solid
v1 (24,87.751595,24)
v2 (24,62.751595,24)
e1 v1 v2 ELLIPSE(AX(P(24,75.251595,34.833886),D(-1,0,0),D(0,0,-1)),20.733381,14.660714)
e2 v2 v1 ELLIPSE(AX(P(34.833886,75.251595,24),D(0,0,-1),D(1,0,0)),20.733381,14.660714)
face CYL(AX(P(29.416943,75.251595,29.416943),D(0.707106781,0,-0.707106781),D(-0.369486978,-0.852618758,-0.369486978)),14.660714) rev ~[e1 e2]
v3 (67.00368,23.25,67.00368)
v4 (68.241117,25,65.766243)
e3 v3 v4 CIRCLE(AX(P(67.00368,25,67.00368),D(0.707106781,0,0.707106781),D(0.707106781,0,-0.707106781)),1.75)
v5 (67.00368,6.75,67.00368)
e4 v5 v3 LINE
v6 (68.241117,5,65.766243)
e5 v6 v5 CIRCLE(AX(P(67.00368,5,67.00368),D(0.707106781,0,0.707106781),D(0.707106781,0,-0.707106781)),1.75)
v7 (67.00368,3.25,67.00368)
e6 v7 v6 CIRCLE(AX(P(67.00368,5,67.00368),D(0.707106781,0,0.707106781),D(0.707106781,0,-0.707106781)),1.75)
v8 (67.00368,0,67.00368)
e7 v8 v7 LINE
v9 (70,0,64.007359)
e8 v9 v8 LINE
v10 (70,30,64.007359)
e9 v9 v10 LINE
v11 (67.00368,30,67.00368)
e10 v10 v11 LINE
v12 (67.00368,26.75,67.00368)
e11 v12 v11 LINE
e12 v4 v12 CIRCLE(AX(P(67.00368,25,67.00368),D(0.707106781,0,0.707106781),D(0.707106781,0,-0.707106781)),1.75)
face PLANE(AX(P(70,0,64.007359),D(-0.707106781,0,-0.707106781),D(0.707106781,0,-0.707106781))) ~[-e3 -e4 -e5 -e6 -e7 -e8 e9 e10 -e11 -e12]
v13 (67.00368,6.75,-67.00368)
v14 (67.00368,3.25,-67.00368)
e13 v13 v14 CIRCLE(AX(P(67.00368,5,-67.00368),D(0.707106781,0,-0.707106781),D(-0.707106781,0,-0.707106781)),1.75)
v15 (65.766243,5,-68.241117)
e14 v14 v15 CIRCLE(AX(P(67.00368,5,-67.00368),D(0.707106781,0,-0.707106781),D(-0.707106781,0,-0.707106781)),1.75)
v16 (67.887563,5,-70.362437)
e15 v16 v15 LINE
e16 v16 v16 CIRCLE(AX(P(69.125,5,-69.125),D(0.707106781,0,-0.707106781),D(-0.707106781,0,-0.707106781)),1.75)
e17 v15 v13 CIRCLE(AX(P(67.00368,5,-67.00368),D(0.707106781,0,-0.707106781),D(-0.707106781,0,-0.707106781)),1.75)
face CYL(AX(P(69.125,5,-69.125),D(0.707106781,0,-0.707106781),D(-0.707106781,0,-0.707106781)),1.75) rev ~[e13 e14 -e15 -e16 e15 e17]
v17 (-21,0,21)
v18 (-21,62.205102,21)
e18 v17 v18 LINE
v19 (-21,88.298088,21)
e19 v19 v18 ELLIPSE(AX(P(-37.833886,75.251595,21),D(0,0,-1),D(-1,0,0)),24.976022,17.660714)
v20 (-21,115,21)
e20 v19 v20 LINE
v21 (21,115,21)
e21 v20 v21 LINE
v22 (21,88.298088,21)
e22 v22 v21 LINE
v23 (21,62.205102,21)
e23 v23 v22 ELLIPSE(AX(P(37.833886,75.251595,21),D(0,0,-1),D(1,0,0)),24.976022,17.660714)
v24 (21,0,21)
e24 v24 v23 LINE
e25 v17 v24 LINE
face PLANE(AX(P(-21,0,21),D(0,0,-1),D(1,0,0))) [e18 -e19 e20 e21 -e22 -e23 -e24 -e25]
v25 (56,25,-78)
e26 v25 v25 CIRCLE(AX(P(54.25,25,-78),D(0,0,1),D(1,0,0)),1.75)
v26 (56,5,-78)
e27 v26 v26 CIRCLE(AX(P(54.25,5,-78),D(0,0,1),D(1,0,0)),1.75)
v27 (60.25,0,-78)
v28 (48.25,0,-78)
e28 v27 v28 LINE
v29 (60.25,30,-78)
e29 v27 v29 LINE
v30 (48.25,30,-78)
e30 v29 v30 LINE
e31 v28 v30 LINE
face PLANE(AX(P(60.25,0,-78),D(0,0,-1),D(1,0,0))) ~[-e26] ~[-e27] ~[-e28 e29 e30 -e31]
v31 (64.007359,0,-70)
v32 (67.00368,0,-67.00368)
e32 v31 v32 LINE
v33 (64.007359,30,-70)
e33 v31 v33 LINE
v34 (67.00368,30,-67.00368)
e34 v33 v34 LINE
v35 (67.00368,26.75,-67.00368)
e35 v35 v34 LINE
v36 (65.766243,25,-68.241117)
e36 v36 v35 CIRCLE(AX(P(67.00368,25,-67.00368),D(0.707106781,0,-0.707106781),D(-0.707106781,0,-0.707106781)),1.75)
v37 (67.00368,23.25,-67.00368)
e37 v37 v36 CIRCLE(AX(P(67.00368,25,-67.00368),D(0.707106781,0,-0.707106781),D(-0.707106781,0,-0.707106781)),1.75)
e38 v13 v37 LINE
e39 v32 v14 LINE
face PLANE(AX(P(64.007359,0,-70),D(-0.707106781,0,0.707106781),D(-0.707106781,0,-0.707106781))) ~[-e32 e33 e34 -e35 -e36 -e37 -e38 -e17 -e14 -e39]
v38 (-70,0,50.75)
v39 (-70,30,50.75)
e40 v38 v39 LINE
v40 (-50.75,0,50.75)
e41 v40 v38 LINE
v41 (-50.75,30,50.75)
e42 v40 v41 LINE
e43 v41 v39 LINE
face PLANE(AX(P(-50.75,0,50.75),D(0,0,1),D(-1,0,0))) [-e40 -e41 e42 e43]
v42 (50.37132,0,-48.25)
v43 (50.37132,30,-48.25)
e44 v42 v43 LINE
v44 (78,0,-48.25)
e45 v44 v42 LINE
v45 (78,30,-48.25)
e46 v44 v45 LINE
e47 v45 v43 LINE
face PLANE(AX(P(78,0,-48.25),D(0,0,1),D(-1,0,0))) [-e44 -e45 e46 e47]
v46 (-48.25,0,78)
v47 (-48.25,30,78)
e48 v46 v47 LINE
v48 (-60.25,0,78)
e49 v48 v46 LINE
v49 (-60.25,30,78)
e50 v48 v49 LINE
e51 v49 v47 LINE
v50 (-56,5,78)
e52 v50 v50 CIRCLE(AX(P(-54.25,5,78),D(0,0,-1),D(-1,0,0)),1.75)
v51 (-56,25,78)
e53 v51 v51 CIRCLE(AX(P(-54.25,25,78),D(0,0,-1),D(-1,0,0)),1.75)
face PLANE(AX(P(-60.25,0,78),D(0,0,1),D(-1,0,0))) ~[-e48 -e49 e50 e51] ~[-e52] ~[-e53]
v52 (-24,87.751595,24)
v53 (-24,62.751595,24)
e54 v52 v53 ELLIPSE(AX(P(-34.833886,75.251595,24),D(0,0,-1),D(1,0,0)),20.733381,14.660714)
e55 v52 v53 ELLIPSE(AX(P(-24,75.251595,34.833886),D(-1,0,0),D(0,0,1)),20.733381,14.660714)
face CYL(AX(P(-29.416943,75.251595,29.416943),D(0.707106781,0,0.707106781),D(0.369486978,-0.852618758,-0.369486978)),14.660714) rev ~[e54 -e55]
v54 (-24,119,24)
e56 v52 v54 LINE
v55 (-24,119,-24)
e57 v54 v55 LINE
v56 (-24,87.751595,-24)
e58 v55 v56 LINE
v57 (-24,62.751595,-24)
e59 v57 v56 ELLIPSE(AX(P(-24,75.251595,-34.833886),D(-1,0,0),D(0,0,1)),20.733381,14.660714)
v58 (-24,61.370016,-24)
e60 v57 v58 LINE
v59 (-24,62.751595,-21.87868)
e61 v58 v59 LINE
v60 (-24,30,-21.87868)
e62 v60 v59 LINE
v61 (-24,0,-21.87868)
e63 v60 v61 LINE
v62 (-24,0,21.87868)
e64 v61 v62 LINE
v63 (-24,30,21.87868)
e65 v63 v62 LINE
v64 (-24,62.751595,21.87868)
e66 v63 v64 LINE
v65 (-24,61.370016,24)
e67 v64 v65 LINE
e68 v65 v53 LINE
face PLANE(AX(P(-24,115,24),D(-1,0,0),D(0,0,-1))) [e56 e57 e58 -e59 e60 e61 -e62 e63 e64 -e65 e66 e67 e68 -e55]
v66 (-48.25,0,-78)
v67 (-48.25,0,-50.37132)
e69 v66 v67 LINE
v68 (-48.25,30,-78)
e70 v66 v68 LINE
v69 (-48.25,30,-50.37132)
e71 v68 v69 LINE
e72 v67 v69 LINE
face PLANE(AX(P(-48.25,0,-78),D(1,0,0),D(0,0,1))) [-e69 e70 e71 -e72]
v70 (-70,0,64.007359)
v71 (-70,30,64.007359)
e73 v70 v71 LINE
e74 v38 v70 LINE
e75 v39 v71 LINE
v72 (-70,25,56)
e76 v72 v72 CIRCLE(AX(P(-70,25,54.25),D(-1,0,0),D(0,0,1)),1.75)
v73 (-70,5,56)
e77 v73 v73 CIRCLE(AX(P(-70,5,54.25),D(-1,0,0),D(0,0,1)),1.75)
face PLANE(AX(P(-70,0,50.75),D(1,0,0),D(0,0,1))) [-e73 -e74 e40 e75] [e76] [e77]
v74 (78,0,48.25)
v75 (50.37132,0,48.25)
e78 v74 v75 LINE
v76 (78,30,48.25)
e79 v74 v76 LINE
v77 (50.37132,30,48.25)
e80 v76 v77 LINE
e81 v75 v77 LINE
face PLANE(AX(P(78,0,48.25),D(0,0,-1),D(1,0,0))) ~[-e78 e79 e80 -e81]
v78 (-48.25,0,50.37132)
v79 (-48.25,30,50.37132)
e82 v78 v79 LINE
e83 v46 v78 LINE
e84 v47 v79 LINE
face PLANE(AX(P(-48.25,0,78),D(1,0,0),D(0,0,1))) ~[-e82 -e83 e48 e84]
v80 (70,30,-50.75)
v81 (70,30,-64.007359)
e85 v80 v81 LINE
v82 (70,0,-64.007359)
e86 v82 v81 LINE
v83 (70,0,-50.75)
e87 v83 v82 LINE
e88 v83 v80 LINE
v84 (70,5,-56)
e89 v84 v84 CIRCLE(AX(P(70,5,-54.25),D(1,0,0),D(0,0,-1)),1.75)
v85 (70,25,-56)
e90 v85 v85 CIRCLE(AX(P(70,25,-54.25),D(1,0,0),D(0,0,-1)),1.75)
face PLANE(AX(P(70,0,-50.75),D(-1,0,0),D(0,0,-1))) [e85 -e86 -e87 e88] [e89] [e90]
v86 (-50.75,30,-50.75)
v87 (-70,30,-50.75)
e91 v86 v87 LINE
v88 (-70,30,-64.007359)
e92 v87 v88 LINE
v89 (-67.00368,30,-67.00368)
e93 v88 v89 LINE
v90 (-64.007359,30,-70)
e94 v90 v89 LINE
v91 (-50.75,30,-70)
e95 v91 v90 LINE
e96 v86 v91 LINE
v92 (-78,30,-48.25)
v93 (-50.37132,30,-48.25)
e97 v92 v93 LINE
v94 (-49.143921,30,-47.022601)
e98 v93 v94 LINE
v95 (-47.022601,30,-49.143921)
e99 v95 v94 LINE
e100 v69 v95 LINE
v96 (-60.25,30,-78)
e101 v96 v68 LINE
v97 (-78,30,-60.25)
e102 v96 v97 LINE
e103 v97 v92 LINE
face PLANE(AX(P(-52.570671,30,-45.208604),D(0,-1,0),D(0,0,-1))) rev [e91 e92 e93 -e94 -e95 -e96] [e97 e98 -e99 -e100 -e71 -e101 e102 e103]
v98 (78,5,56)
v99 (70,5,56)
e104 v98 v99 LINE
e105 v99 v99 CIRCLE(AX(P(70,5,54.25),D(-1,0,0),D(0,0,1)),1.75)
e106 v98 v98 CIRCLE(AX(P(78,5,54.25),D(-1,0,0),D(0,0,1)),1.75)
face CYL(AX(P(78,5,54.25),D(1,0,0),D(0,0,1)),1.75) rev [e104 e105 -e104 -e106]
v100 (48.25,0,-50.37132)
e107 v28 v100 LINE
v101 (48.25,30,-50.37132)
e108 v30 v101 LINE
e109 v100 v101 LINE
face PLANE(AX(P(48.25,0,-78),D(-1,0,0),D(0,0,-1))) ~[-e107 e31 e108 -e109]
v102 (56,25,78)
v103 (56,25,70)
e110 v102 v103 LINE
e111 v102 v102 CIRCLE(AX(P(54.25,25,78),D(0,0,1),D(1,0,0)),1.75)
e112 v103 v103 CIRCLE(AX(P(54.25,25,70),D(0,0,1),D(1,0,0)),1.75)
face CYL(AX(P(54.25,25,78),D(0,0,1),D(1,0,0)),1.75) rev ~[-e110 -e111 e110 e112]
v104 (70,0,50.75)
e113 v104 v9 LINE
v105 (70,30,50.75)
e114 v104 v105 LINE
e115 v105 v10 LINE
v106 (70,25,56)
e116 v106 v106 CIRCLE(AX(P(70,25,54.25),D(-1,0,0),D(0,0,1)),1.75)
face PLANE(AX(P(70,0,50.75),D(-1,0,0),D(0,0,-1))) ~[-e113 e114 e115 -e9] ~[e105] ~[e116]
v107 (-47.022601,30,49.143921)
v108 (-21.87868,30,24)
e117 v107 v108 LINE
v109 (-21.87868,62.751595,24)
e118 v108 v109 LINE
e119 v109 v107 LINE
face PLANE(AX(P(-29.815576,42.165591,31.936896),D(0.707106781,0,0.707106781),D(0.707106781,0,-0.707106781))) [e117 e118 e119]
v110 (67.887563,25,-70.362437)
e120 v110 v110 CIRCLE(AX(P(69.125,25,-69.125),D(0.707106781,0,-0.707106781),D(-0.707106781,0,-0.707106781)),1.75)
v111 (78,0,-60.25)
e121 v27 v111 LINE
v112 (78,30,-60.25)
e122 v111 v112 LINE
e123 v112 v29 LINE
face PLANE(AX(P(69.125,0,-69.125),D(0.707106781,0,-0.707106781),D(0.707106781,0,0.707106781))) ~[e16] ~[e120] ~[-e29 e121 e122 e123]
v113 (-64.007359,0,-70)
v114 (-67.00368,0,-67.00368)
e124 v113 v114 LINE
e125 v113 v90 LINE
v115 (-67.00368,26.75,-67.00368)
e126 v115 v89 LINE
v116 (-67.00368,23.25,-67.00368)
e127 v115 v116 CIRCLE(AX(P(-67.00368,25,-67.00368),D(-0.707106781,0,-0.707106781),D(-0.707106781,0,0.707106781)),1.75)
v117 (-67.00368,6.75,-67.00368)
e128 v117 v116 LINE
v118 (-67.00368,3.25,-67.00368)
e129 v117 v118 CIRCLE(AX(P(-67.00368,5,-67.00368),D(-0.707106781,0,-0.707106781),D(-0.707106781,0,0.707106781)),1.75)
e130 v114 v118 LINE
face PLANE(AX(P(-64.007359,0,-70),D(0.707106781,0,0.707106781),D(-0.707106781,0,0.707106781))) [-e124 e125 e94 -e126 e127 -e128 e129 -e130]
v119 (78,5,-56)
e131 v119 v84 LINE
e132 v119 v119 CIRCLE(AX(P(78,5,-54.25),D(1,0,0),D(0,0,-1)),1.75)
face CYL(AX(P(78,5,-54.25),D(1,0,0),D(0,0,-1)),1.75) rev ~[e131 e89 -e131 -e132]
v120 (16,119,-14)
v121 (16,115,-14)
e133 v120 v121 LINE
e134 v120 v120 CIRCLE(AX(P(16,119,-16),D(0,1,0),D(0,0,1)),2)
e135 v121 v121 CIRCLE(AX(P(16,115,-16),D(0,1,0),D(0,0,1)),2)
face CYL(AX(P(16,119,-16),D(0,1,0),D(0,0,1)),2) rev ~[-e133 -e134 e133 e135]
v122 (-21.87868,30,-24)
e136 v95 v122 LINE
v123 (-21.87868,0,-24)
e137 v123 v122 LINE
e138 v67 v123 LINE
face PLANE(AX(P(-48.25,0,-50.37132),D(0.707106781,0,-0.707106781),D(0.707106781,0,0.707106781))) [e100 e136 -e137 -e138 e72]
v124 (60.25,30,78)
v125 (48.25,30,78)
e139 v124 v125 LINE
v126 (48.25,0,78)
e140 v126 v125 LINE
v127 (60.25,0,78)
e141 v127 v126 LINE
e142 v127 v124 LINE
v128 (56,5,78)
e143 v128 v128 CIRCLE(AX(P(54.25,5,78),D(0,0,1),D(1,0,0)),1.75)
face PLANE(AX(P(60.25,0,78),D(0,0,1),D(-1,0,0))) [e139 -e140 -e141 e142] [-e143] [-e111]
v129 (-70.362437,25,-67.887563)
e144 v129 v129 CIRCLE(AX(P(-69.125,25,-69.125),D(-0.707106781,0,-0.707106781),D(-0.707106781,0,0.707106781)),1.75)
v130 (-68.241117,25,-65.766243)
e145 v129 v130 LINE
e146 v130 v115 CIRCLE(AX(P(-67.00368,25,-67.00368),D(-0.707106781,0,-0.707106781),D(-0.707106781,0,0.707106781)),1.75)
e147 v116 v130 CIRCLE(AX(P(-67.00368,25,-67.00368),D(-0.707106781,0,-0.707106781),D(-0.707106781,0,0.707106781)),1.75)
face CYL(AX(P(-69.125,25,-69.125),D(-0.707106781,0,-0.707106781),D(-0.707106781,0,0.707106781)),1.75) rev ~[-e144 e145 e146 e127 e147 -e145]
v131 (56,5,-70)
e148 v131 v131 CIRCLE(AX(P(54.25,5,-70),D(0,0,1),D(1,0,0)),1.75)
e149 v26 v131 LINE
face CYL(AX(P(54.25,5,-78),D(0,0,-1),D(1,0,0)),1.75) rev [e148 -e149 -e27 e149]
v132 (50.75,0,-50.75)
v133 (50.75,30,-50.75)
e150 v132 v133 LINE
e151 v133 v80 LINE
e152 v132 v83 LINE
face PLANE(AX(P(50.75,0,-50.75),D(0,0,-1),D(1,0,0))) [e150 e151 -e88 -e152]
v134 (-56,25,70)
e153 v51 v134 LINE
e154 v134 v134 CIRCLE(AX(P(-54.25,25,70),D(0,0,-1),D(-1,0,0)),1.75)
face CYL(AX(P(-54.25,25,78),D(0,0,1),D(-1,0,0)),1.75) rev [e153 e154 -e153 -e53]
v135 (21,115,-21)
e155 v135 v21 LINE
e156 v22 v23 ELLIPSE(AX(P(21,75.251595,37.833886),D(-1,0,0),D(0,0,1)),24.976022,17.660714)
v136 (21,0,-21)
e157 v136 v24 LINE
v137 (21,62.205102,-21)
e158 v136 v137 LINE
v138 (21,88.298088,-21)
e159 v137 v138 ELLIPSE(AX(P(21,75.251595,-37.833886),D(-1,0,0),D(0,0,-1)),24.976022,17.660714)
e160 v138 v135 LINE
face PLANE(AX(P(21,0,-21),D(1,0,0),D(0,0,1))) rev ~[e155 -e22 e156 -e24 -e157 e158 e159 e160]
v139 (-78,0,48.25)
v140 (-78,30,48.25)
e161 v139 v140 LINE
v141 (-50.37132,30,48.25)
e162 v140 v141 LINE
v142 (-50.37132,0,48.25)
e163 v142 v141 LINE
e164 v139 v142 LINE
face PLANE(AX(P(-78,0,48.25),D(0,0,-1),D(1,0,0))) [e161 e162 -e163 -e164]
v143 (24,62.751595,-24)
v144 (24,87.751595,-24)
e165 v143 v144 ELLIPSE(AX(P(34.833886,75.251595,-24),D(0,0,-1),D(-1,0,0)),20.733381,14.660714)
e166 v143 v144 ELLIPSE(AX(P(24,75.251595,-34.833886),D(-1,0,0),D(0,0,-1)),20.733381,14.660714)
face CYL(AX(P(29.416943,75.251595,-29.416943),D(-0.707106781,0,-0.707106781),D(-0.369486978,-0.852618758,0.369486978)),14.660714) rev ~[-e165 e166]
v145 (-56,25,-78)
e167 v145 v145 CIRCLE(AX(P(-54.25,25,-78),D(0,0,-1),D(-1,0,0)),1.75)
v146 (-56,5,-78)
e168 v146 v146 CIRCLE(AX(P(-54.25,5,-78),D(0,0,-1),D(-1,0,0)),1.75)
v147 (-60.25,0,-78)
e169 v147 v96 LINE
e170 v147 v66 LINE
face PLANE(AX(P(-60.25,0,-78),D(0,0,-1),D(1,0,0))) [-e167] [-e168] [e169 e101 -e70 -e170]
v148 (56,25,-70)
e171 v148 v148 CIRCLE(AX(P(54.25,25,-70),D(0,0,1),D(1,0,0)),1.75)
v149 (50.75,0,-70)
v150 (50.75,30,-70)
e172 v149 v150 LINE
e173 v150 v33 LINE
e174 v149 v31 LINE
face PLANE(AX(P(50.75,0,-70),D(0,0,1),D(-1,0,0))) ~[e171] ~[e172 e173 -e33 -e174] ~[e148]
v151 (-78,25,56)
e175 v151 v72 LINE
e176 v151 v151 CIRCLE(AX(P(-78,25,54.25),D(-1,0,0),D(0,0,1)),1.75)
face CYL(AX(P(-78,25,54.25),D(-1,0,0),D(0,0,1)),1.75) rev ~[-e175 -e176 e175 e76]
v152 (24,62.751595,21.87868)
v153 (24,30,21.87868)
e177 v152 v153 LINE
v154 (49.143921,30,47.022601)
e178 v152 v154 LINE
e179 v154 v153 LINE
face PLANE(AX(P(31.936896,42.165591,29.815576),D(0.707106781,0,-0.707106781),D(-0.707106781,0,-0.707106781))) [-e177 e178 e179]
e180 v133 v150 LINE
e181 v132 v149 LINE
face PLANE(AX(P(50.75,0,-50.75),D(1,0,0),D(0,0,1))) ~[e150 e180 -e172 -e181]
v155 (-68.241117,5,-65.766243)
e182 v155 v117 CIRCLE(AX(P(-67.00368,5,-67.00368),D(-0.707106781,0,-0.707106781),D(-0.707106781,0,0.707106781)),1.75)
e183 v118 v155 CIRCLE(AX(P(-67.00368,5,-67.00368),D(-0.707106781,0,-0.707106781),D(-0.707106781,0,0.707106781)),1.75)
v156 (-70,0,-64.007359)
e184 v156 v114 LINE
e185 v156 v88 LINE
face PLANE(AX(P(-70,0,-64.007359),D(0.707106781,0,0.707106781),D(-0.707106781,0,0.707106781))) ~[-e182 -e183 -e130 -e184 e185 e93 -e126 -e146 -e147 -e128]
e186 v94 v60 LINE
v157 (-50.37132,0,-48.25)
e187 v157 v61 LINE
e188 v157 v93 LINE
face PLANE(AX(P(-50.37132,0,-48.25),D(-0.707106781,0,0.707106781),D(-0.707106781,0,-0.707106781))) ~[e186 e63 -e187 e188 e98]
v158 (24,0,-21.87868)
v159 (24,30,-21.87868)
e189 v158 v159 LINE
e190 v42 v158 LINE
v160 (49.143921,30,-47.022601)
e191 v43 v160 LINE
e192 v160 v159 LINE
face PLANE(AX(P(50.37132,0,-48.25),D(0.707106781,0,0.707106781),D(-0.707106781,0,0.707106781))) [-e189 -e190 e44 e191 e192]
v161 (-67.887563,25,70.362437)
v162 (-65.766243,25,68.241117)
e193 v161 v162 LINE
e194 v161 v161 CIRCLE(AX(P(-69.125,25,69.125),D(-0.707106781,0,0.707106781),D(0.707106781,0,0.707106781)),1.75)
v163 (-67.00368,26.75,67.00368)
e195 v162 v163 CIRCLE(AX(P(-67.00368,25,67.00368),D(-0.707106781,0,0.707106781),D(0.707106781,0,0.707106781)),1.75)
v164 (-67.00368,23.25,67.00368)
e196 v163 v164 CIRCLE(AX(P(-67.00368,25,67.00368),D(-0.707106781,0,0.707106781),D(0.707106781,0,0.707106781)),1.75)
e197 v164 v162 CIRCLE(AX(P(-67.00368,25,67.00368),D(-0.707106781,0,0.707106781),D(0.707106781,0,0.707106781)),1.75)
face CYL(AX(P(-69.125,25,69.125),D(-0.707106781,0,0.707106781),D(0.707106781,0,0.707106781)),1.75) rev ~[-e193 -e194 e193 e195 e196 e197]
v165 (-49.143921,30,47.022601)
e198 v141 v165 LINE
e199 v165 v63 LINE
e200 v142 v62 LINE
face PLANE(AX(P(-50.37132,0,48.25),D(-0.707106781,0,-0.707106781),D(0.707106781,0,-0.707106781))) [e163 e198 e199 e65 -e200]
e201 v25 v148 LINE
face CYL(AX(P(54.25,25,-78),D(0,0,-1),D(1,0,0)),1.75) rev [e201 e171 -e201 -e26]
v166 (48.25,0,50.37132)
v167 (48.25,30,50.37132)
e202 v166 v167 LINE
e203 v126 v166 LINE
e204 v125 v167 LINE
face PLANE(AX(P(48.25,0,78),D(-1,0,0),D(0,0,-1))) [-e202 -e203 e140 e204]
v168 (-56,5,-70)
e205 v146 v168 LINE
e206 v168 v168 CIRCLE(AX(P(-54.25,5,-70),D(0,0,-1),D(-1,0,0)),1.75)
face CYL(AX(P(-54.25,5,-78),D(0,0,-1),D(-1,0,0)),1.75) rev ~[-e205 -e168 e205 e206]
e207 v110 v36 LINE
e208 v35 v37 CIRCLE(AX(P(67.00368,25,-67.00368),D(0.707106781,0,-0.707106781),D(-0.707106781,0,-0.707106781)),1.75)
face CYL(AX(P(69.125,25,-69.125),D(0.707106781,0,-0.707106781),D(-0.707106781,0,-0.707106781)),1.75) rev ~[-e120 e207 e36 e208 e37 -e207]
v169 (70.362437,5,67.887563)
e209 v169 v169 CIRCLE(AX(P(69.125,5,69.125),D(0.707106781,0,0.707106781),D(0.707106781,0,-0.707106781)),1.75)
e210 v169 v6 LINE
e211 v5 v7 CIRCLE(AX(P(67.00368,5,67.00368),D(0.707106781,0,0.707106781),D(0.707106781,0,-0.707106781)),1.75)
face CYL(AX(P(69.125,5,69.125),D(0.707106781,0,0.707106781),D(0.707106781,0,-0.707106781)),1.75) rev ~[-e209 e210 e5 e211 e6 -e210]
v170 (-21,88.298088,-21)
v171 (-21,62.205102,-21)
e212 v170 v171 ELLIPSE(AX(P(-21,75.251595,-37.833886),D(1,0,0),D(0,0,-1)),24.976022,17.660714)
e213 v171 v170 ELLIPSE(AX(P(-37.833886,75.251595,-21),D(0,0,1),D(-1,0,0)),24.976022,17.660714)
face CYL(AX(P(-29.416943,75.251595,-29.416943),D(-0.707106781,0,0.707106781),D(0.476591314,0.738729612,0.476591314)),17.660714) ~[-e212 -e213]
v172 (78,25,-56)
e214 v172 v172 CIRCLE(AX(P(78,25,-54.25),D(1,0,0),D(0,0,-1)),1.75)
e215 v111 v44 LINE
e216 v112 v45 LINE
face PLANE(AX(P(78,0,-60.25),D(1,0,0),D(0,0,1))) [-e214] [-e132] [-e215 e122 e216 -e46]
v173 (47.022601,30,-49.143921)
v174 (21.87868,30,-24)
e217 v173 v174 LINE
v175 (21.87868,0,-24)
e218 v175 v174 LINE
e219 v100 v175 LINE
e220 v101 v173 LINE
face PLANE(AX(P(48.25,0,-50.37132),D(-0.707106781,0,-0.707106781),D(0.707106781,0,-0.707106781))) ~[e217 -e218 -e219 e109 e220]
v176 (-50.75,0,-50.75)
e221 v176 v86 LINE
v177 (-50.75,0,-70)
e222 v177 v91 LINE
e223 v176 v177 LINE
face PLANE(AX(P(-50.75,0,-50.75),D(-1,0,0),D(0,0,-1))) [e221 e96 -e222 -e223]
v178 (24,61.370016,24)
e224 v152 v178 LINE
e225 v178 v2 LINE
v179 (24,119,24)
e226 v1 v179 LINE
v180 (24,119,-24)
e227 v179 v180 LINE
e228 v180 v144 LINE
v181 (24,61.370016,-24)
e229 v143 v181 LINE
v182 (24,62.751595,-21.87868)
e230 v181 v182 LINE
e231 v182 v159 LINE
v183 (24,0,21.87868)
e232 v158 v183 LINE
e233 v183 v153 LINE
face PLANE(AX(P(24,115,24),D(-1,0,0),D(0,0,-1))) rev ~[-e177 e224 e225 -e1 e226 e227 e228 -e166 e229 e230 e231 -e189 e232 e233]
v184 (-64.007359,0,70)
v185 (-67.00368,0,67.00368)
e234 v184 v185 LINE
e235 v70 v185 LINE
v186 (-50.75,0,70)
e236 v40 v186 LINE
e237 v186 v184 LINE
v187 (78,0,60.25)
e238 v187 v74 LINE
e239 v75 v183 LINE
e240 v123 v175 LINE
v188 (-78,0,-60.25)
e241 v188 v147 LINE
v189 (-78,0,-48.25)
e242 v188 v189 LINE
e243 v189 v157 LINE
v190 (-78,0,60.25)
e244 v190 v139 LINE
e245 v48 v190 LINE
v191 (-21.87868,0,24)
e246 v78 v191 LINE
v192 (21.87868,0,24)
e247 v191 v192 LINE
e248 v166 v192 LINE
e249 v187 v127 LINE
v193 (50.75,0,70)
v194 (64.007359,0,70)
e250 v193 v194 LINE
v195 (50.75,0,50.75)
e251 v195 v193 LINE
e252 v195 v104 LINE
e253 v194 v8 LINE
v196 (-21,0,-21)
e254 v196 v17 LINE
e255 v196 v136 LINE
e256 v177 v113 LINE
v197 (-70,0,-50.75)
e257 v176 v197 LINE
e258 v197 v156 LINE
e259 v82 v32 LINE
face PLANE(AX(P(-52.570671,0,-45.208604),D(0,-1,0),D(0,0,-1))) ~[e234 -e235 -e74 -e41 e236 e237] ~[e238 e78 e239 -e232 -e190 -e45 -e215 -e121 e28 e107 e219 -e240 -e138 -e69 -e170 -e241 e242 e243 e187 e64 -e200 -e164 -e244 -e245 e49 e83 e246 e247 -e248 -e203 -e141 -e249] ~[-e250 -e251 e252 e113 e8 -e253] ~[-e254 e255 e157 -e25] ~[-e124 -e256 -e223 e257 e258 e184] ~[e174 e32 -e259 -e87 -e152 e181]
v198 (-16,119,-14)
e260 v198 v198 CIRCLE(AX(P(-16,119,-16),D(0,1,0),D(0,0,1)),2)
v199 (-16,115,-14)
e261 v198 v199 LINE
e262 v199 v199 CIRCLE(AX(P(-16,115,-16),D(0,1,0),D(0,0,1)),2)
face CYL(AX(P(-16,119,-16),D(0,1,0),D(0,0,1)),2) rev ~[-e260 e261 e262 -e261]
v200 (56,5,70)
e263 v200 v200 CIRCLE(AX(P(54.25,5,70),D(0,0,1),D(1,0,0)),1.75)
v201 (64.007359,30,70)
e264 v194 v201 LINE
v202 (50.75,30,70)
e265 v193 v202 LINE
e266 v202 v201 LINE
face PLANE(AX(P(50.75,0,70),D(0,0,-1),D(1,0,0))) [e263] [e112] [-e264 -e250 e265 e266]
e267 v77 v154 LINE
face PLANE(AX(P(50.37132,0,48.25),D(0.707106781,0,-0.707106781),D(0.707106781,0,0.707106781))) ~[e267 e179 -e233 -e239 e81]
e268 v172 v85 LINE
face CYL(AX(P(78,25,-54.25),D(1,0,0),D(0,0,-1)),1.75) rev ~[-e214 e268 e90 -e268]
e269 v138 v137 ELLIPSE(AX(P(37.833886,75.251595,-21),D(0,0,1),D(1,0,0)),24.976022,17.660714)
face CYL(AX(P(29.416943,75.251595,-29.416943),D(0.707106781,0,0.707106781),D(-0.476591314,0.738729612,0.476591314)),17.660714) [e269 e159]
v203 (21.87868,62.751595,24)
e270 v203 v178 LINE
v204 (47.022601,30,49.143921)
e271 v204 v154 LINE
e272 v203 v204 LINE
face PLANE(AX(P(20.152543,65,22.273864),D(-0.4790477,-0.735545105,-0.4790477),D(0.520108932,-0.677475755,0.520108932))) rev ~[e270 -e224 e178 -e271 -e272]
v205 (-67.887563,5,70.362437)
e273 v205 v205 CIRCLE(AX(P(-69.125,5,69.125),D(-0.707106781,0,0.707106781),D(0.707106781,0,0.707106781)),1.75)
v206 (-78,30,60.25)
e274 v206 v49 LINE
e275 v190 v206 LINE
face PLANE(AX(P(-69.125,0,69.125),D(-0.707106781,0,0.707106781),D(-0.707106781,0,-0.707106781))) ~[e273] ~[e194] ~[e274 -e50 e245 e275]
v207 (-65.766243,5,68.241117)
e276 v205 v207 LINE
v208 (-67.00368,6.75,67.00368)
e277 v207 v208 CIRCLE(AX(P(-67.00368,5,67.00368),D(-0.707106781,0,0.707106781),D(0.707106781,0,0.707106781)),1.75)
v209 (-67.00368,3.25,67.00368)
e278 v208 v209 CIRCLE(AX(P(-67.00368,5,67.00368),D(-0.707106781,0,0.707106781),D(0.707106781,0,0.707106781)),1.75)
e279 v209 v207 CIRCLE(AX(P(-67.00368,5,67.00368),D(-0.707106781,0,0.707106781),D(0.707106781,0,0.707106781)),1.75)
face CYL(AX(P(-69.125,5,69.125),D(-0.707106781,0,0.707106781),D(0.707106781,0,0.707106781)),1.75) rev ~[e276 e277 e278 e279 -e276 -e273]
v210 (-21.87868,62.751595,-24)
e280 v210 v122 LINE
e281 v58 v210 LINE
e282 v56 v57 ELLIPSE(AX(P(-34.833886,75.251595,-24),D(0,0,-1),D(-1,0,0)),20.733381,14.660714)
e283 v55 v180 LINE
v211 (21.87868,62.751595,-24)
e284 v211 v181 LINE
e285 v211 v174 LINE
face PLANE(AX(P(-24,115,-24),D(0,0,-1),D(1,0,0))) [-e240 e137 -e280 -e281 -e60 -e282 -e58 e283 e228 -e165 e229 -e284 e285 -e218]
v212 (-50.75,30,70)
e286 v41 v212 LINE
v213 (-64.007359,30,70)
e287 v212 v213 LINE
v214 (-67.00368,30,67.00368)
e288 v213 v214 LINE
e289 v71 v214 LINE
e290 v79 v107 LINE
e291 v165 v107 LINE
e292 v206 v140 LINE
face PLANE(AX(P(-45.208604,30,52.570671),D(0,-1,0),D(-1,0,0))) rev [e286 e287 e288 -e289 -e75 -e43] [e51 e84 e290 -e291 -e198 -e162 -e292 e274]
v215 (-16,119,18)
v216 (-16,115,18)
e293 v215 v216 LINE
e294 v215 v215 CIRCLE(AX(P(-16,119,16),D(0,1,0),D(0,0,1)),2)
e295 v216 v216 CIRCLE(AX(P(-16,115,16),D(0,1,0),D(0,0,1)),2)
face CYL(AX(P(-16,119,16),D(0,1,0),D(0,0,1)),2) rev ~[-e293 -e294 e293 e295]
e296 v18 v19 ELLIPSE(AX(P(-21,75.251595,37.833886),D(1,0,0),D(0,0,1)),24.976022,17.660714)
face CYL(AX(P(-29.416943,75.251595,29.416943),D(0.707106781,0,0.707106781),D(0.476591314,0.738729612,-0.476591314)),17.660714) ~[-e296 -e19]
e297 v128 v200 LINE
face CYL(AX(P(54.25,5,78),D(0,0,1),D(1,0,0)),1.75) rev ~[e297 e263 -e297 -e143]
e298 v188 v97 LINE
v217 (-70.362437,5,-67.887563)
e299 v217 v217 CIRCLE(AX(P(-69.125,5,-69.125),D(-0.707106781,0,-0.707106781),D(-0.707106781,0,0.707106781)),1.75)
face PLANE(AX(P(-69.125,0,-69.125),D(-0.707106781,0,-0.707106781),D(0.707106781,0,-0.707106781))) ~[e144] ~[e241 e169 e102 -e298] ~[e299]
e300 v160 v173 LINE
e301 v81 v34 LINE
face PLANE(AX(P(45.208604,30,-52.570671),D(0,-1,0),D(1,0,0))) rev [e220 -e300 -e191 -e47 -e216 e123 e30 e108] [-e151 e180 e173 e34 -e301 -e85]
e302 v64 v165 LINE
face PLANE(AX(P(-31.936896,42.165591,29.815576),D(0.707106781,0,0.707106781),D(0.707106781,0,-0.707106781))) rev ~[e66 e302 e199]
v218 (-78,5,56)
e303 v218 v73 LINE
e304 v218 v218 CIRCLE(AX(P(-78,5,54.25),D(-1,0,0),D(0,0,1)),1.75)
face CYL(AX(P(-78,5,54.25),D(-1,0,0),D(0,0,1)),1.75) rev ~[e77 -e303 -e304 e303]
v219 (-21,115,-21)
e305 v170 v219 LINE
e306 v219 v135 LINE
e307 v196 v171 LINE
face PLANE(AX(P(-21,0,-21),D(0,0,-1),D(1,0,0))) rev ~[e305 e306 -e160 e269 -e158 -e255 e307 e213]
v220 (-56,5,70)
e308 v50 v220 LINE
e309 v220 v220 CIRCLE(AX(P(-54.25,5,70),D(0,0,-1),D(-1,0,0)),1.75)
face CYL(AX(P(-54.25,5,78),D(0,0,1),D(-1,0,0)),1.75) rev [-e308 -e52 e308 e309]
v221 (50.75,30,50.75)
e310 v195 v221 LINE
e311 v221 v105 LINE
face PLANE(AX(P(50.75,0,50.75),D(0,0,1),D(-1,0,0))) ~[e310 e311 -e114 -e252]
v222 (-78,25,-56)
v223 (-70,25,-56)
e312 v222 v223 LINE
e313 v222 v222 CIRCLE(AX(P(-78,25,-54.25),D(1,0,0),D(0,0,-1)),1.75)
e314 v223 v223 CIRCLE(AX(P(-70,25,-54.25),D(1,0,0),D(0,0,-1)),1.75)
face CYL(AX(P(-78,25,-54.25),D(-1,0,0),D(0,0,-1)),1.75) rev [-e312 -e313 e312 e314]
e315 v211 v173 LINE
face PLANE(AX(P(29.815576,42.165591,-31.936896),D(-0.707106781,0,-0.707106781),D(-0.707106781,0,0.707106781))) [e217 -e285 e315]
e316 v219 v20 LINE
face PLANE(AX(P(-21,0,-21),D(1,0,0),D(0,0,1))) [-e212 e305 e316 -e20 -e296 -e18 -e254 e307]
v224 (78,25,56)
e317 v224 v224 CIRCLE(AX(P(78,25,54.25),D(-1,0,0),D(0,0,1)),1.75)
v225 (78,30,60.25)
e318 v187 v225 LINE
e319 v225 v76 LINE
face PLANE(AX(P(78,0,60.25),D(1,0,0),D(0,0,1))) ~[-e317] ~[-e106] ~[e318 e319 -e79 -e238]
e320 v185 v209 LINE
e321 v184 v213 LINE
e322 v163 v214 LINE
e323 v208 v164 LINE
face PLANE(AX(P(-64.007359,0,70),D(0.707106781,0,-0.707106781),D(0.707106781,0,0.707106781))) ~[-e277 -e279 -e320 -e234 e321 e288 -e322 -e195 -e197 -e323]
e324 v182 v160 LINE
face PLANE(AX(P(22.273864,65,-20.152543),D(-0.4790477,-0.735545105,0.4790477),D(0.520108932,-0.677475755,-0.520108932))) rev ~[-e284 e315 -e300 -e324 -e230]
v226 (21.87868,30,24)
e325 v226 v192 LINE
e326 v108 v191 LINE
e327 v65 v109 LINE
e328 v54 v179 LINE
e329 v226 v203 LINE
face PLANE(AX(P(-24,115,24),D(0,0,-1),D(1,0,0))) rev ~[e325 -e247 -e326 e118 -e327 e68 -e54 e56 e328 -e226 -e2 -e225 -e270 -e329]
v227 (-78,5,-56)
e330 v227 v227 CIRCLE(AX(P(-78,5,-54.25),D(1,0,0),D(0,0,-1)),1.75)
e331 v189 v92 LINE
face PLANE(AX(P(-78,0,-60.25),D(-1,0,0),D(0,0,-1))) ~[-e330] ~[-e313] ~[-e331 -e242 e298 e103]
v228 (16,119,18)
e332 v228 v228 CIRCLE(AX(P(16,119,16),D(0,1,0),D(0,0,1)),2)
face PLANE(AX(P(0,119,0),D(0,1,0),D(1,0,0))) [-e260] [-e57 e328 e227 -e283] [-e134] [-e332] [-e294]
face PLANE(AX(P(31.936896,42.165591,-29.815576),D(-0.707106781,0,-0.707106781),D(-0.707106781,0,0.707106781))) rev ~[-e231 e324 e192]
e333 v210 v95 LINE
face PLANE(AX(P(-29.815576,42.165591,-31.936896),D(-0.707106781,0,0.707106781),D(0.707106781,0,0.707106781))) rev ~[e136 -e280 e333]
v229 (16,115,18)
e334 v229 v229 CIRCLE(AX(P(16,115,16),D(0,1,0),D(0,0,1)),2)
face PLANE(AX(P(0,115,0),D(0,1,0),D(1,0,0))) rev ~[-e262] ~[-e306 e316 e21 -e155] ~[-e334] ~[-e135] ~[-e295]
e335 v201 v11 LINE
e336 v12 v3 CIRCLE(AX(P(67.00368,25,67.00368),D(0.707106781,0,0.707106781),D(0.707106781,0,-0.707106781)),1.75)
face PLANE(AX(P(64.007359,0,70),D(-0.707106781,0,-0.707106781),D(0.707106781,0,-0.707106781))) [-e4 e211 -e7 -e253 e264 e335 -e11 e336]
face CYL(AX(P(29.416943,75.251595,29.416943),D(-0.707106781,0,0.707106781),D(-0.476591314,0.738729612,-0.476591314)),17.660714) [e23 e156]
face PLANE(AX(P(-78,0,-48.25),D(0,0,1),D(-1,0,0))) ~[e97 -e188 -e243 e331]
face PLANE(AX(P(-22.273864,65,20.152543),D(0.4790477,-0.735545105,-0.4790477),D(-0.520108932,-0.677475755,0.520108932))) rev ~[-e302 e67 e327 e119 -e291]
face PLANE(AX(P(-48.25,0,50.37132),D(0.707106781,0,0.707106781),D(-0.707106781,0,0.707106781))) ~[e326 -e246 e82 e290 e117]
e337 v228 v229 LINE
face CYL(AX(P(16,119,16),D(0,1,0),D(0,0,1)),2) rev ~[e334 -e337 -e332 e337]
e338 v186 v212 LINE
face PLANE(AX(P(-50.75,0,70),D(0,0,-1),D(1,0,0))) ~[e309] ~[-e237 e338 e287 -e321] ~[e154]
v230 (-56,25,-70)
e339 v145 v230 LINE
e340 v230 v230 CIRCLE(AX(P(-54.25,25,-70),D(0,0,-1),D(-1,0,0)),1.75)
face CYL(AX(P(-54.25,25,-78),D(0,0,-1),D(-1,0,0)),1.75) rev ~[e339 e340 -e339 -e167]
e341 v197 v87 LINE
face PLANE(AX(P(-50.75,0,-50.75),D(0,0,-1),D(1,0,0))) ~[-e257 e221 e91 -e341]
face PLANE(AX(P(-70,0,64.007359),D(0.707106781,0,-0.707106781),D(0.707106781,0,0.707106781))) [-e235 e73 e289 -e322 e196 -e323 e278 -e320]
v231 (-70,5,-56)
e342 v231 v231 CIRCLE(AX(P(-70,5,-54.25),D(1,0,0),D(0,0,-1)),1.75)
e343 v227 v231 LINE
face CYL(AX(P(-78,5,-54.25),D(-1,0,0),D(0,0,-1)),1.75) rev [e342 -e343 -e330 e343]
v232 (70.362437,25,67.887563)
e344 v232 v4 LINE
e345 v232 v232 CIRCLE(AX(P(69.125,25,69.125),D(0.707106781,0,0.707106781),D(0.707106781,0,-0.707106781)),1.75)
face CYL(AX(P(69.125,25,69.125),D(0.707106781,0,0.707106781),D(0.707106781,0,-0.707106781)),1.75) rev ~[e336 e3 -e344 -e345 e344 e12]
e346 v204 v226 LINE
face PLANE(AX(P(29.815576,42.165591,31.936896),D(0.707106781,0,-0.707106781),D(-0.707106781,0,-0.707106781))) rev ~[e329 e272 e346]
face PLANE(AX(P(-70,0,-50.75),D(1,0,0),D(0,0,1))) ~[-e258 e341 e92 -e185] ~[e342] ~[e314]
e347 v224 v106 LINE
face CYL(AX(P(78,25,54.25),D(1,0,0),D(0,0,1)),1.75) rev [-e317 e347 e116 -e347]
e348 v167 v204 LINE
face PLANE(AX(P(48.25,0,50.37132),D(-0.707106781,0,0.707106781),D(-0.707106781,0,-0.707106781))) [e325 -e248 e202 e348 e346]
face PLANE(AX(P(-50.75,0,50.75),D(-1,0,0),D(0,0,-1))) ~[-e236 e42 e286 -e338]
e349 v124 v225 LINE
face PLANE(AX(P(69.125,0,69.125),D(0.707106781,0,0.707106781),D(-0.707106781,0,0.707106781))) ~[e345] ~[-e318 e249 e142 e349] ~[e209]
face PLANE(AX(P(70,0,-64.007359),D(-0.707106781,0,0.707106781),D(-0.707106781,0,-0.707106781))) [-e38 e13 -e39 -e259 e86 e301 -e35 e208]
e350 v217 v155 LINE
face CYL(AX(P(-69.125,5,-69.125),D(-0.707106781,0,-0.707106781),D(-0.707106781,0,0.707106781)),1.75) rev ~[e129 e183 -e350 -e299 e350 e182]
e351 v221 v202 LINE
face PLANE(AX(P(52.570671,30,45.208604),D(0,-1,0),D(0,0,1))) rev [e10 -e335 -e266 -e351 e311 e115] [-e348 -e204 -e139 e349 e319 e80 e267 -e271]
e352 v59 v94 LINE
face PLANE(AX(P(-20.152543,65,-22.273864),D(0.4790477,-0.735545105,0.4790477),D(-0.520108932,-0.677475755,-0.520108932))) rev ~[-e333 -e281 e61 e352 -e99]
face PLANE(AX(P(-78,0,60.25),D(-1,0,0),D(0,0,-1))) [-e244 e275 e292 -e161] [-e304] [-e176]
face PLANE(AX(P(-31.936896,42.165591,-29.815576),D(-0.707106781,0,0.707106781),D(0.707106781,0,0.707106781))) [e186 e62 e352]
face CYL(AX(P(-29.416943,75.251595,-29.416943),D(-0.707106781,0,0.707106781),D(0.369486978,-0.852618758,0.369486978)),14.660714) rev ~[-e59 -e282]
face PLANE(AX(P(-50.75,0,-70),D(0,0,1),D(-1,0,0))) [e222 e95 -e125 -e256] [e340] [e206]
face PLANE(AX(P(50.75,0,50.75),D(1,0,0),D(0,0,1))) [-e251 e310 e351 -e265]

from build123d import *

# Parameters (mm, degrees)
BOSS_EXTRUDE1_DEPTH             = 30
SKETCH2_R                       = 1.75
CUT_EXTRUDE1_DEPTH              = 8
SKETCH5_R                       = 1.75
CUT_EXTRUDE2_DEPTH              = 3
BOSS_EXTRUDE2_DEPTH             = 3
CIRPATTERN5_COUNT               = 4
SKETCH4_W                       = 48
SKETCH4_H                       = 48
SKETCH4_W_2                     = 42
SKETCH4_H_2                     = 42
BOSS_EXTRUDE3_DEPTH             = 115
SKETCH6_W                       = 48
SKETCH6_H                       = 48
BOSS_EXTRUDE4_DEPTH             = 4
SKETCH7_R                       = 2
CUT_EXTRUDE3_DEPTH              = 4
CUT_EXTRUDE4_DEPTH              = 163.262133599
BOSS_EXTRUDE5_REACH             = 164.262
BOSS_EXTRUDE5_DIRECTION_2_REACH = 164.262
CIRPATTERN6_COUNT               = 4


with BuildPart() as part:
    # Sketch1 → Boss-Extrude1 (new body)
    with BuildSketch(Plane(origin=(0, 0, 0), x_dir=(1, 0, 0), z_dir=(0, 1, 0))):
        Polygon((48.25, -78), (48.25, -50.371320344), (20.152543264, -22.273863607), (21.213203436, -21.213203436), (50.75, -50.75), (50.75, -70), (64.007359313, -70), (67.003679656, -67.003679656), (69.125, -69.125), (60.25, -78), align=None)
    boss_extrude1 = extrude(amount=BOSS_EXTRUDE1_DEPTH)

    # Sketch2 → Cut-Extrude1 (cut)
    with BuildSketch(Plane.XY.offset(78)):
        with Locations((54.25, 5)):
            Circle(SKETCH2_R)
        with Locations((54.25, 25)):
            Circle(SKETCH2_R)
    cut_extrude1 = extrude(amount=-CUT_EXTRUDE1_DEPTH, mode=Mode.SUBTRACT)

    # Mirror1: Boss-Extrude1, Cut-Extrude1 across plane
    add(boss_extrude1.mirror(Plane(origin=(50.75, 30, 50.75), x_dir=(0.707106781186549, 0, 0.707106781186546), z_dir=(-0.707106781186546, 0, 0.707106781186549))))
    add(cut_extrude1.mirror(Plane(origin=(50.75, 30, 50.75), x_dir=(0.707106781186549, 0, 0.707106781186546), z_dir=(-0.707106781186546, 0, 0.707106781186549))), mode=Mode.SUBTRACT)

    # Sketch5 → Cut-Extrude2 (cut)
    with BuildSketch(Plane(origin=(69.125, 0, 69.125), x_dir=(0.7071067811865461, 0, -0.7071067811865489), z_dir=(0.7071067811865489, 0, 0.7071067811865461))):
        with Locations((0, 25)):
            Circle(SKETCH5_R)
        with Locations((0, 5)):
            Circle(SKETCH5_R)
    extrude(amount=-CUT_EXTRUDE2_DEPTH, mode=Mode.SUBTRACT)

    # Sketch3 → Boss-Extrude2 (add)
    with BuildSketch(Plane(origin=(-1.060660172, 0, 1.060660172), x_dir=(0.7071067811865492, 0, 0.7071067811865459), z_dir=(-0.7071067811865459, 0, 0.7071067811865492))):
        Polygon((30, 30), (30, 65), (68, 30), align=None)
    extrude(amount=-BOSS_EXTRUDE2_DEPTH)


with BuildPart() as cirpattern5_1:
    # CirPattern5: pattern copy
    add(part.part.rotate(Axis((0, 0, 0), (0, 1, 0)), 1 * 360 / CIRPATTERN5_COUNT))


with BuildPart() as cirpattern5_2:
    # CirPattern5: pattern copy
    add(part.part.rotate(Axis((0, 0, 0), (0, 1, 0)), 2 * 360 / CIRPATTERN5_COUNT))


with BuildPart() as cirpattern5_3:
    # CirPattern5: pattern copy
    add(part.part.rotate(Axis((0, 0, 0), (0, 1, 0)), 3 * 360 / CIRPATTERN5_COUNT))


with BuildPart() as part_1:
    add(part.part)

    add(cirpattern5_1.part)  # Boss-Extrude3 merges CirPattern5_1

    add(cirpattern5_2.part)  # Boss-Extrude3 merges CirPattern5_2

    add(cirpattern5_3.part)  # Boss-Extrude3 merges CirPattern5_3
    # Sketch4 → Boss-Extrude3 (add)
    with BuildSketch(Plane.XZ):
        Rectangle(SKETCH4_W, SKETCH4_H)
        Rectangle(SKETCH4_W_2, SKETCH4_H_2, mode=Mode.SUBTRACT)
    extrude(amount=-BOSS_EXTRUDE3_DEPTH)

    # Sketch6 → Boss-Extrude4 (add)
    with BuildSketch(Plane(origin=(0, 115, 0), x_dir=(1, 0, 0), z_dir=(0, 1, 0))):
        Rectangle(SKETCH6_W, SKETCH6_H)
    extrude(amount=BOSS_EXTRUDE4_DEPTH)

    # Sketch7 → Cut-Extrude3 (cut)
    with BuildSketch(Plane(origin=(0, 119, 0), x_dir=(1, 0, 0), z_dir=(0, 1, 0))):
        with Locations(Location((16, 16, 0), (0, 0, 270))):
            Circle(SKETCH7_R)
        with Locations(Location((-16, 16, 0), (0, 0, 270))):
            Circle(SKETCH7_R)
        with Locations(Location((-16, -16, 0), (0, 0, 270))):
            Circle(SKETCH7_R)
        with Locations(Location((16, -16, 0), (0, 0, 270))):
            Circle(SKETCH7_R)
    extrude(amount=-CUT_EXTRUDE3_DEPTH, mode=Mode.SUBTRACT)

    # Sketch8 → Cut-Extrude4 (cut, symmetric)
    with BuildSketch(Plane(origin=(0, 0, 0), x_dir=(0.7071067811865475, 0, -0.7071067811865477), z_dir=(0.7071067811865477, 0, 0.7071067811865475))):
        with BuildLine():
            Line((-33.941125497, 87.751594937), (-33.941125497, 62.751594937))
            ThreePointArc((-33.941125497, 62.751594937), (-26.941125497, 75.251594937), (-33.941125497, 87.751594937))
        make_face()
    cut_extrude4 = extrude(amount=CUT_EXTRUDE4_DEPTH, both=True, mode=Mode.SUBTRACT)

    # Sketch9 → Boss-Extrude5 (add, up to next)
    with BuildSketch(Plane(origin=(0, 0, 0), x_dir=(0.7071067811865475, 0, -0.7071067811865477), z_dir=(0.7071067811865477, 0, 0.7071067811865475)), mode=Mode.PRIVATE) as boss_extrude5_sk1:
        with BuildLine():
            Line((-29.69848481, 83.810022582), (-29.69848481, 88.298087549))
            ThreePointArc((-29.69848481, 88.298087549), (-23.941125497, 75.251594937), (-29.69848481, 62.205102325))
            Line((-29.69848481, 62.205102325), (-29.69848481, 66.693167292))
            ThreePointArc((-29.69848481, 66.693167292), (-26.941125497, 75.251594937), (-29.69848481, 83.810022582))
        make_face()
    boss_extrude5_tool1 = extrude(boss_extrude5_sk1.sketch, amount=BOSS_EXTRUDE5_REACH, mode=Mode.PRIVATE) - part_1.part
    boss_extrude5 = boss_extrude5_tool1.solids().sort_by_distance((-18.95893, 75.251595, 18.95893))[0]
    add(boss_extrude5)

    # Sketch9 → Boss-Extrude5 direction 2 (add, up to next)
    with BuildSketch(Plane(origin=(0, 0, 0), x_dir=(0.7071067811865475, 0, -0.7071067811865477), z_dir=(0.7071067811865477, 0, 0.7071067811865475)), mode=Mode.PRIVATE) as boss_extrude5_direction_2_sk1:
        with BuildLine():
            Line((-29.69848481, 83.810022582), (-29.69848481, 88.298087549))
            ThreePointArc((-29.69848481, 88.298087549), (-23.941125497, 75.251594937), (-29.69848481, 62.205102325))
            Line((-29.69848481, 62.205102325), (-29.69848481, 66.693167292))
            ThreePointArc((-29.69848481, 66.693167292), (-26.941125497, 75.251594937), (-29.69848481, 83.810022582))
        make_face()
    boss_extrude5_direction_2_tool1 = extrude(boss_extrude5_direction_2_sk1.sketch, amount=-BOSS_EXTRUDE5_DIRECTION_2_REACH, mode=Mode.PRIVATE) - part_1.part
    boss_extrude5_direction_2 = boss_extrude5_direction_2_tool1.solids().sort_by_distance((-18.95893, 75.251595, 18.95893))[0]
    add(boss_extrude5_direction_2)

    # CirPattern6: Cut-Extrude4, Boss-Extrude5, Boss-Extrude5 direction 2 ×4 about axis
    cirpattern6_axis = Axis((0, 31.5, 0), (0, -1, 0))
    add([cut_extrude4.rotate(cirpattern6_axis, i * 360 / CIRPATTERN6_COUNT) for i in range(1, CIRPATTERN6_COUNT)], mode=Mode.SUBTRACT)
    add([boss_extrude5.rotate(cirpattern6_axis, i * 360 / CIRPATTERN6_COUNT) for i in range(1, CIRPATTERN6_COUNT)])
    add([boss_extrude5_direction_2.rotate(cirpattern6_axis, i * 360 / CIRPATTERN6_COUNT) for i in range(1, CIRPATTERN6_COUNT)])


solid = part_1.part
